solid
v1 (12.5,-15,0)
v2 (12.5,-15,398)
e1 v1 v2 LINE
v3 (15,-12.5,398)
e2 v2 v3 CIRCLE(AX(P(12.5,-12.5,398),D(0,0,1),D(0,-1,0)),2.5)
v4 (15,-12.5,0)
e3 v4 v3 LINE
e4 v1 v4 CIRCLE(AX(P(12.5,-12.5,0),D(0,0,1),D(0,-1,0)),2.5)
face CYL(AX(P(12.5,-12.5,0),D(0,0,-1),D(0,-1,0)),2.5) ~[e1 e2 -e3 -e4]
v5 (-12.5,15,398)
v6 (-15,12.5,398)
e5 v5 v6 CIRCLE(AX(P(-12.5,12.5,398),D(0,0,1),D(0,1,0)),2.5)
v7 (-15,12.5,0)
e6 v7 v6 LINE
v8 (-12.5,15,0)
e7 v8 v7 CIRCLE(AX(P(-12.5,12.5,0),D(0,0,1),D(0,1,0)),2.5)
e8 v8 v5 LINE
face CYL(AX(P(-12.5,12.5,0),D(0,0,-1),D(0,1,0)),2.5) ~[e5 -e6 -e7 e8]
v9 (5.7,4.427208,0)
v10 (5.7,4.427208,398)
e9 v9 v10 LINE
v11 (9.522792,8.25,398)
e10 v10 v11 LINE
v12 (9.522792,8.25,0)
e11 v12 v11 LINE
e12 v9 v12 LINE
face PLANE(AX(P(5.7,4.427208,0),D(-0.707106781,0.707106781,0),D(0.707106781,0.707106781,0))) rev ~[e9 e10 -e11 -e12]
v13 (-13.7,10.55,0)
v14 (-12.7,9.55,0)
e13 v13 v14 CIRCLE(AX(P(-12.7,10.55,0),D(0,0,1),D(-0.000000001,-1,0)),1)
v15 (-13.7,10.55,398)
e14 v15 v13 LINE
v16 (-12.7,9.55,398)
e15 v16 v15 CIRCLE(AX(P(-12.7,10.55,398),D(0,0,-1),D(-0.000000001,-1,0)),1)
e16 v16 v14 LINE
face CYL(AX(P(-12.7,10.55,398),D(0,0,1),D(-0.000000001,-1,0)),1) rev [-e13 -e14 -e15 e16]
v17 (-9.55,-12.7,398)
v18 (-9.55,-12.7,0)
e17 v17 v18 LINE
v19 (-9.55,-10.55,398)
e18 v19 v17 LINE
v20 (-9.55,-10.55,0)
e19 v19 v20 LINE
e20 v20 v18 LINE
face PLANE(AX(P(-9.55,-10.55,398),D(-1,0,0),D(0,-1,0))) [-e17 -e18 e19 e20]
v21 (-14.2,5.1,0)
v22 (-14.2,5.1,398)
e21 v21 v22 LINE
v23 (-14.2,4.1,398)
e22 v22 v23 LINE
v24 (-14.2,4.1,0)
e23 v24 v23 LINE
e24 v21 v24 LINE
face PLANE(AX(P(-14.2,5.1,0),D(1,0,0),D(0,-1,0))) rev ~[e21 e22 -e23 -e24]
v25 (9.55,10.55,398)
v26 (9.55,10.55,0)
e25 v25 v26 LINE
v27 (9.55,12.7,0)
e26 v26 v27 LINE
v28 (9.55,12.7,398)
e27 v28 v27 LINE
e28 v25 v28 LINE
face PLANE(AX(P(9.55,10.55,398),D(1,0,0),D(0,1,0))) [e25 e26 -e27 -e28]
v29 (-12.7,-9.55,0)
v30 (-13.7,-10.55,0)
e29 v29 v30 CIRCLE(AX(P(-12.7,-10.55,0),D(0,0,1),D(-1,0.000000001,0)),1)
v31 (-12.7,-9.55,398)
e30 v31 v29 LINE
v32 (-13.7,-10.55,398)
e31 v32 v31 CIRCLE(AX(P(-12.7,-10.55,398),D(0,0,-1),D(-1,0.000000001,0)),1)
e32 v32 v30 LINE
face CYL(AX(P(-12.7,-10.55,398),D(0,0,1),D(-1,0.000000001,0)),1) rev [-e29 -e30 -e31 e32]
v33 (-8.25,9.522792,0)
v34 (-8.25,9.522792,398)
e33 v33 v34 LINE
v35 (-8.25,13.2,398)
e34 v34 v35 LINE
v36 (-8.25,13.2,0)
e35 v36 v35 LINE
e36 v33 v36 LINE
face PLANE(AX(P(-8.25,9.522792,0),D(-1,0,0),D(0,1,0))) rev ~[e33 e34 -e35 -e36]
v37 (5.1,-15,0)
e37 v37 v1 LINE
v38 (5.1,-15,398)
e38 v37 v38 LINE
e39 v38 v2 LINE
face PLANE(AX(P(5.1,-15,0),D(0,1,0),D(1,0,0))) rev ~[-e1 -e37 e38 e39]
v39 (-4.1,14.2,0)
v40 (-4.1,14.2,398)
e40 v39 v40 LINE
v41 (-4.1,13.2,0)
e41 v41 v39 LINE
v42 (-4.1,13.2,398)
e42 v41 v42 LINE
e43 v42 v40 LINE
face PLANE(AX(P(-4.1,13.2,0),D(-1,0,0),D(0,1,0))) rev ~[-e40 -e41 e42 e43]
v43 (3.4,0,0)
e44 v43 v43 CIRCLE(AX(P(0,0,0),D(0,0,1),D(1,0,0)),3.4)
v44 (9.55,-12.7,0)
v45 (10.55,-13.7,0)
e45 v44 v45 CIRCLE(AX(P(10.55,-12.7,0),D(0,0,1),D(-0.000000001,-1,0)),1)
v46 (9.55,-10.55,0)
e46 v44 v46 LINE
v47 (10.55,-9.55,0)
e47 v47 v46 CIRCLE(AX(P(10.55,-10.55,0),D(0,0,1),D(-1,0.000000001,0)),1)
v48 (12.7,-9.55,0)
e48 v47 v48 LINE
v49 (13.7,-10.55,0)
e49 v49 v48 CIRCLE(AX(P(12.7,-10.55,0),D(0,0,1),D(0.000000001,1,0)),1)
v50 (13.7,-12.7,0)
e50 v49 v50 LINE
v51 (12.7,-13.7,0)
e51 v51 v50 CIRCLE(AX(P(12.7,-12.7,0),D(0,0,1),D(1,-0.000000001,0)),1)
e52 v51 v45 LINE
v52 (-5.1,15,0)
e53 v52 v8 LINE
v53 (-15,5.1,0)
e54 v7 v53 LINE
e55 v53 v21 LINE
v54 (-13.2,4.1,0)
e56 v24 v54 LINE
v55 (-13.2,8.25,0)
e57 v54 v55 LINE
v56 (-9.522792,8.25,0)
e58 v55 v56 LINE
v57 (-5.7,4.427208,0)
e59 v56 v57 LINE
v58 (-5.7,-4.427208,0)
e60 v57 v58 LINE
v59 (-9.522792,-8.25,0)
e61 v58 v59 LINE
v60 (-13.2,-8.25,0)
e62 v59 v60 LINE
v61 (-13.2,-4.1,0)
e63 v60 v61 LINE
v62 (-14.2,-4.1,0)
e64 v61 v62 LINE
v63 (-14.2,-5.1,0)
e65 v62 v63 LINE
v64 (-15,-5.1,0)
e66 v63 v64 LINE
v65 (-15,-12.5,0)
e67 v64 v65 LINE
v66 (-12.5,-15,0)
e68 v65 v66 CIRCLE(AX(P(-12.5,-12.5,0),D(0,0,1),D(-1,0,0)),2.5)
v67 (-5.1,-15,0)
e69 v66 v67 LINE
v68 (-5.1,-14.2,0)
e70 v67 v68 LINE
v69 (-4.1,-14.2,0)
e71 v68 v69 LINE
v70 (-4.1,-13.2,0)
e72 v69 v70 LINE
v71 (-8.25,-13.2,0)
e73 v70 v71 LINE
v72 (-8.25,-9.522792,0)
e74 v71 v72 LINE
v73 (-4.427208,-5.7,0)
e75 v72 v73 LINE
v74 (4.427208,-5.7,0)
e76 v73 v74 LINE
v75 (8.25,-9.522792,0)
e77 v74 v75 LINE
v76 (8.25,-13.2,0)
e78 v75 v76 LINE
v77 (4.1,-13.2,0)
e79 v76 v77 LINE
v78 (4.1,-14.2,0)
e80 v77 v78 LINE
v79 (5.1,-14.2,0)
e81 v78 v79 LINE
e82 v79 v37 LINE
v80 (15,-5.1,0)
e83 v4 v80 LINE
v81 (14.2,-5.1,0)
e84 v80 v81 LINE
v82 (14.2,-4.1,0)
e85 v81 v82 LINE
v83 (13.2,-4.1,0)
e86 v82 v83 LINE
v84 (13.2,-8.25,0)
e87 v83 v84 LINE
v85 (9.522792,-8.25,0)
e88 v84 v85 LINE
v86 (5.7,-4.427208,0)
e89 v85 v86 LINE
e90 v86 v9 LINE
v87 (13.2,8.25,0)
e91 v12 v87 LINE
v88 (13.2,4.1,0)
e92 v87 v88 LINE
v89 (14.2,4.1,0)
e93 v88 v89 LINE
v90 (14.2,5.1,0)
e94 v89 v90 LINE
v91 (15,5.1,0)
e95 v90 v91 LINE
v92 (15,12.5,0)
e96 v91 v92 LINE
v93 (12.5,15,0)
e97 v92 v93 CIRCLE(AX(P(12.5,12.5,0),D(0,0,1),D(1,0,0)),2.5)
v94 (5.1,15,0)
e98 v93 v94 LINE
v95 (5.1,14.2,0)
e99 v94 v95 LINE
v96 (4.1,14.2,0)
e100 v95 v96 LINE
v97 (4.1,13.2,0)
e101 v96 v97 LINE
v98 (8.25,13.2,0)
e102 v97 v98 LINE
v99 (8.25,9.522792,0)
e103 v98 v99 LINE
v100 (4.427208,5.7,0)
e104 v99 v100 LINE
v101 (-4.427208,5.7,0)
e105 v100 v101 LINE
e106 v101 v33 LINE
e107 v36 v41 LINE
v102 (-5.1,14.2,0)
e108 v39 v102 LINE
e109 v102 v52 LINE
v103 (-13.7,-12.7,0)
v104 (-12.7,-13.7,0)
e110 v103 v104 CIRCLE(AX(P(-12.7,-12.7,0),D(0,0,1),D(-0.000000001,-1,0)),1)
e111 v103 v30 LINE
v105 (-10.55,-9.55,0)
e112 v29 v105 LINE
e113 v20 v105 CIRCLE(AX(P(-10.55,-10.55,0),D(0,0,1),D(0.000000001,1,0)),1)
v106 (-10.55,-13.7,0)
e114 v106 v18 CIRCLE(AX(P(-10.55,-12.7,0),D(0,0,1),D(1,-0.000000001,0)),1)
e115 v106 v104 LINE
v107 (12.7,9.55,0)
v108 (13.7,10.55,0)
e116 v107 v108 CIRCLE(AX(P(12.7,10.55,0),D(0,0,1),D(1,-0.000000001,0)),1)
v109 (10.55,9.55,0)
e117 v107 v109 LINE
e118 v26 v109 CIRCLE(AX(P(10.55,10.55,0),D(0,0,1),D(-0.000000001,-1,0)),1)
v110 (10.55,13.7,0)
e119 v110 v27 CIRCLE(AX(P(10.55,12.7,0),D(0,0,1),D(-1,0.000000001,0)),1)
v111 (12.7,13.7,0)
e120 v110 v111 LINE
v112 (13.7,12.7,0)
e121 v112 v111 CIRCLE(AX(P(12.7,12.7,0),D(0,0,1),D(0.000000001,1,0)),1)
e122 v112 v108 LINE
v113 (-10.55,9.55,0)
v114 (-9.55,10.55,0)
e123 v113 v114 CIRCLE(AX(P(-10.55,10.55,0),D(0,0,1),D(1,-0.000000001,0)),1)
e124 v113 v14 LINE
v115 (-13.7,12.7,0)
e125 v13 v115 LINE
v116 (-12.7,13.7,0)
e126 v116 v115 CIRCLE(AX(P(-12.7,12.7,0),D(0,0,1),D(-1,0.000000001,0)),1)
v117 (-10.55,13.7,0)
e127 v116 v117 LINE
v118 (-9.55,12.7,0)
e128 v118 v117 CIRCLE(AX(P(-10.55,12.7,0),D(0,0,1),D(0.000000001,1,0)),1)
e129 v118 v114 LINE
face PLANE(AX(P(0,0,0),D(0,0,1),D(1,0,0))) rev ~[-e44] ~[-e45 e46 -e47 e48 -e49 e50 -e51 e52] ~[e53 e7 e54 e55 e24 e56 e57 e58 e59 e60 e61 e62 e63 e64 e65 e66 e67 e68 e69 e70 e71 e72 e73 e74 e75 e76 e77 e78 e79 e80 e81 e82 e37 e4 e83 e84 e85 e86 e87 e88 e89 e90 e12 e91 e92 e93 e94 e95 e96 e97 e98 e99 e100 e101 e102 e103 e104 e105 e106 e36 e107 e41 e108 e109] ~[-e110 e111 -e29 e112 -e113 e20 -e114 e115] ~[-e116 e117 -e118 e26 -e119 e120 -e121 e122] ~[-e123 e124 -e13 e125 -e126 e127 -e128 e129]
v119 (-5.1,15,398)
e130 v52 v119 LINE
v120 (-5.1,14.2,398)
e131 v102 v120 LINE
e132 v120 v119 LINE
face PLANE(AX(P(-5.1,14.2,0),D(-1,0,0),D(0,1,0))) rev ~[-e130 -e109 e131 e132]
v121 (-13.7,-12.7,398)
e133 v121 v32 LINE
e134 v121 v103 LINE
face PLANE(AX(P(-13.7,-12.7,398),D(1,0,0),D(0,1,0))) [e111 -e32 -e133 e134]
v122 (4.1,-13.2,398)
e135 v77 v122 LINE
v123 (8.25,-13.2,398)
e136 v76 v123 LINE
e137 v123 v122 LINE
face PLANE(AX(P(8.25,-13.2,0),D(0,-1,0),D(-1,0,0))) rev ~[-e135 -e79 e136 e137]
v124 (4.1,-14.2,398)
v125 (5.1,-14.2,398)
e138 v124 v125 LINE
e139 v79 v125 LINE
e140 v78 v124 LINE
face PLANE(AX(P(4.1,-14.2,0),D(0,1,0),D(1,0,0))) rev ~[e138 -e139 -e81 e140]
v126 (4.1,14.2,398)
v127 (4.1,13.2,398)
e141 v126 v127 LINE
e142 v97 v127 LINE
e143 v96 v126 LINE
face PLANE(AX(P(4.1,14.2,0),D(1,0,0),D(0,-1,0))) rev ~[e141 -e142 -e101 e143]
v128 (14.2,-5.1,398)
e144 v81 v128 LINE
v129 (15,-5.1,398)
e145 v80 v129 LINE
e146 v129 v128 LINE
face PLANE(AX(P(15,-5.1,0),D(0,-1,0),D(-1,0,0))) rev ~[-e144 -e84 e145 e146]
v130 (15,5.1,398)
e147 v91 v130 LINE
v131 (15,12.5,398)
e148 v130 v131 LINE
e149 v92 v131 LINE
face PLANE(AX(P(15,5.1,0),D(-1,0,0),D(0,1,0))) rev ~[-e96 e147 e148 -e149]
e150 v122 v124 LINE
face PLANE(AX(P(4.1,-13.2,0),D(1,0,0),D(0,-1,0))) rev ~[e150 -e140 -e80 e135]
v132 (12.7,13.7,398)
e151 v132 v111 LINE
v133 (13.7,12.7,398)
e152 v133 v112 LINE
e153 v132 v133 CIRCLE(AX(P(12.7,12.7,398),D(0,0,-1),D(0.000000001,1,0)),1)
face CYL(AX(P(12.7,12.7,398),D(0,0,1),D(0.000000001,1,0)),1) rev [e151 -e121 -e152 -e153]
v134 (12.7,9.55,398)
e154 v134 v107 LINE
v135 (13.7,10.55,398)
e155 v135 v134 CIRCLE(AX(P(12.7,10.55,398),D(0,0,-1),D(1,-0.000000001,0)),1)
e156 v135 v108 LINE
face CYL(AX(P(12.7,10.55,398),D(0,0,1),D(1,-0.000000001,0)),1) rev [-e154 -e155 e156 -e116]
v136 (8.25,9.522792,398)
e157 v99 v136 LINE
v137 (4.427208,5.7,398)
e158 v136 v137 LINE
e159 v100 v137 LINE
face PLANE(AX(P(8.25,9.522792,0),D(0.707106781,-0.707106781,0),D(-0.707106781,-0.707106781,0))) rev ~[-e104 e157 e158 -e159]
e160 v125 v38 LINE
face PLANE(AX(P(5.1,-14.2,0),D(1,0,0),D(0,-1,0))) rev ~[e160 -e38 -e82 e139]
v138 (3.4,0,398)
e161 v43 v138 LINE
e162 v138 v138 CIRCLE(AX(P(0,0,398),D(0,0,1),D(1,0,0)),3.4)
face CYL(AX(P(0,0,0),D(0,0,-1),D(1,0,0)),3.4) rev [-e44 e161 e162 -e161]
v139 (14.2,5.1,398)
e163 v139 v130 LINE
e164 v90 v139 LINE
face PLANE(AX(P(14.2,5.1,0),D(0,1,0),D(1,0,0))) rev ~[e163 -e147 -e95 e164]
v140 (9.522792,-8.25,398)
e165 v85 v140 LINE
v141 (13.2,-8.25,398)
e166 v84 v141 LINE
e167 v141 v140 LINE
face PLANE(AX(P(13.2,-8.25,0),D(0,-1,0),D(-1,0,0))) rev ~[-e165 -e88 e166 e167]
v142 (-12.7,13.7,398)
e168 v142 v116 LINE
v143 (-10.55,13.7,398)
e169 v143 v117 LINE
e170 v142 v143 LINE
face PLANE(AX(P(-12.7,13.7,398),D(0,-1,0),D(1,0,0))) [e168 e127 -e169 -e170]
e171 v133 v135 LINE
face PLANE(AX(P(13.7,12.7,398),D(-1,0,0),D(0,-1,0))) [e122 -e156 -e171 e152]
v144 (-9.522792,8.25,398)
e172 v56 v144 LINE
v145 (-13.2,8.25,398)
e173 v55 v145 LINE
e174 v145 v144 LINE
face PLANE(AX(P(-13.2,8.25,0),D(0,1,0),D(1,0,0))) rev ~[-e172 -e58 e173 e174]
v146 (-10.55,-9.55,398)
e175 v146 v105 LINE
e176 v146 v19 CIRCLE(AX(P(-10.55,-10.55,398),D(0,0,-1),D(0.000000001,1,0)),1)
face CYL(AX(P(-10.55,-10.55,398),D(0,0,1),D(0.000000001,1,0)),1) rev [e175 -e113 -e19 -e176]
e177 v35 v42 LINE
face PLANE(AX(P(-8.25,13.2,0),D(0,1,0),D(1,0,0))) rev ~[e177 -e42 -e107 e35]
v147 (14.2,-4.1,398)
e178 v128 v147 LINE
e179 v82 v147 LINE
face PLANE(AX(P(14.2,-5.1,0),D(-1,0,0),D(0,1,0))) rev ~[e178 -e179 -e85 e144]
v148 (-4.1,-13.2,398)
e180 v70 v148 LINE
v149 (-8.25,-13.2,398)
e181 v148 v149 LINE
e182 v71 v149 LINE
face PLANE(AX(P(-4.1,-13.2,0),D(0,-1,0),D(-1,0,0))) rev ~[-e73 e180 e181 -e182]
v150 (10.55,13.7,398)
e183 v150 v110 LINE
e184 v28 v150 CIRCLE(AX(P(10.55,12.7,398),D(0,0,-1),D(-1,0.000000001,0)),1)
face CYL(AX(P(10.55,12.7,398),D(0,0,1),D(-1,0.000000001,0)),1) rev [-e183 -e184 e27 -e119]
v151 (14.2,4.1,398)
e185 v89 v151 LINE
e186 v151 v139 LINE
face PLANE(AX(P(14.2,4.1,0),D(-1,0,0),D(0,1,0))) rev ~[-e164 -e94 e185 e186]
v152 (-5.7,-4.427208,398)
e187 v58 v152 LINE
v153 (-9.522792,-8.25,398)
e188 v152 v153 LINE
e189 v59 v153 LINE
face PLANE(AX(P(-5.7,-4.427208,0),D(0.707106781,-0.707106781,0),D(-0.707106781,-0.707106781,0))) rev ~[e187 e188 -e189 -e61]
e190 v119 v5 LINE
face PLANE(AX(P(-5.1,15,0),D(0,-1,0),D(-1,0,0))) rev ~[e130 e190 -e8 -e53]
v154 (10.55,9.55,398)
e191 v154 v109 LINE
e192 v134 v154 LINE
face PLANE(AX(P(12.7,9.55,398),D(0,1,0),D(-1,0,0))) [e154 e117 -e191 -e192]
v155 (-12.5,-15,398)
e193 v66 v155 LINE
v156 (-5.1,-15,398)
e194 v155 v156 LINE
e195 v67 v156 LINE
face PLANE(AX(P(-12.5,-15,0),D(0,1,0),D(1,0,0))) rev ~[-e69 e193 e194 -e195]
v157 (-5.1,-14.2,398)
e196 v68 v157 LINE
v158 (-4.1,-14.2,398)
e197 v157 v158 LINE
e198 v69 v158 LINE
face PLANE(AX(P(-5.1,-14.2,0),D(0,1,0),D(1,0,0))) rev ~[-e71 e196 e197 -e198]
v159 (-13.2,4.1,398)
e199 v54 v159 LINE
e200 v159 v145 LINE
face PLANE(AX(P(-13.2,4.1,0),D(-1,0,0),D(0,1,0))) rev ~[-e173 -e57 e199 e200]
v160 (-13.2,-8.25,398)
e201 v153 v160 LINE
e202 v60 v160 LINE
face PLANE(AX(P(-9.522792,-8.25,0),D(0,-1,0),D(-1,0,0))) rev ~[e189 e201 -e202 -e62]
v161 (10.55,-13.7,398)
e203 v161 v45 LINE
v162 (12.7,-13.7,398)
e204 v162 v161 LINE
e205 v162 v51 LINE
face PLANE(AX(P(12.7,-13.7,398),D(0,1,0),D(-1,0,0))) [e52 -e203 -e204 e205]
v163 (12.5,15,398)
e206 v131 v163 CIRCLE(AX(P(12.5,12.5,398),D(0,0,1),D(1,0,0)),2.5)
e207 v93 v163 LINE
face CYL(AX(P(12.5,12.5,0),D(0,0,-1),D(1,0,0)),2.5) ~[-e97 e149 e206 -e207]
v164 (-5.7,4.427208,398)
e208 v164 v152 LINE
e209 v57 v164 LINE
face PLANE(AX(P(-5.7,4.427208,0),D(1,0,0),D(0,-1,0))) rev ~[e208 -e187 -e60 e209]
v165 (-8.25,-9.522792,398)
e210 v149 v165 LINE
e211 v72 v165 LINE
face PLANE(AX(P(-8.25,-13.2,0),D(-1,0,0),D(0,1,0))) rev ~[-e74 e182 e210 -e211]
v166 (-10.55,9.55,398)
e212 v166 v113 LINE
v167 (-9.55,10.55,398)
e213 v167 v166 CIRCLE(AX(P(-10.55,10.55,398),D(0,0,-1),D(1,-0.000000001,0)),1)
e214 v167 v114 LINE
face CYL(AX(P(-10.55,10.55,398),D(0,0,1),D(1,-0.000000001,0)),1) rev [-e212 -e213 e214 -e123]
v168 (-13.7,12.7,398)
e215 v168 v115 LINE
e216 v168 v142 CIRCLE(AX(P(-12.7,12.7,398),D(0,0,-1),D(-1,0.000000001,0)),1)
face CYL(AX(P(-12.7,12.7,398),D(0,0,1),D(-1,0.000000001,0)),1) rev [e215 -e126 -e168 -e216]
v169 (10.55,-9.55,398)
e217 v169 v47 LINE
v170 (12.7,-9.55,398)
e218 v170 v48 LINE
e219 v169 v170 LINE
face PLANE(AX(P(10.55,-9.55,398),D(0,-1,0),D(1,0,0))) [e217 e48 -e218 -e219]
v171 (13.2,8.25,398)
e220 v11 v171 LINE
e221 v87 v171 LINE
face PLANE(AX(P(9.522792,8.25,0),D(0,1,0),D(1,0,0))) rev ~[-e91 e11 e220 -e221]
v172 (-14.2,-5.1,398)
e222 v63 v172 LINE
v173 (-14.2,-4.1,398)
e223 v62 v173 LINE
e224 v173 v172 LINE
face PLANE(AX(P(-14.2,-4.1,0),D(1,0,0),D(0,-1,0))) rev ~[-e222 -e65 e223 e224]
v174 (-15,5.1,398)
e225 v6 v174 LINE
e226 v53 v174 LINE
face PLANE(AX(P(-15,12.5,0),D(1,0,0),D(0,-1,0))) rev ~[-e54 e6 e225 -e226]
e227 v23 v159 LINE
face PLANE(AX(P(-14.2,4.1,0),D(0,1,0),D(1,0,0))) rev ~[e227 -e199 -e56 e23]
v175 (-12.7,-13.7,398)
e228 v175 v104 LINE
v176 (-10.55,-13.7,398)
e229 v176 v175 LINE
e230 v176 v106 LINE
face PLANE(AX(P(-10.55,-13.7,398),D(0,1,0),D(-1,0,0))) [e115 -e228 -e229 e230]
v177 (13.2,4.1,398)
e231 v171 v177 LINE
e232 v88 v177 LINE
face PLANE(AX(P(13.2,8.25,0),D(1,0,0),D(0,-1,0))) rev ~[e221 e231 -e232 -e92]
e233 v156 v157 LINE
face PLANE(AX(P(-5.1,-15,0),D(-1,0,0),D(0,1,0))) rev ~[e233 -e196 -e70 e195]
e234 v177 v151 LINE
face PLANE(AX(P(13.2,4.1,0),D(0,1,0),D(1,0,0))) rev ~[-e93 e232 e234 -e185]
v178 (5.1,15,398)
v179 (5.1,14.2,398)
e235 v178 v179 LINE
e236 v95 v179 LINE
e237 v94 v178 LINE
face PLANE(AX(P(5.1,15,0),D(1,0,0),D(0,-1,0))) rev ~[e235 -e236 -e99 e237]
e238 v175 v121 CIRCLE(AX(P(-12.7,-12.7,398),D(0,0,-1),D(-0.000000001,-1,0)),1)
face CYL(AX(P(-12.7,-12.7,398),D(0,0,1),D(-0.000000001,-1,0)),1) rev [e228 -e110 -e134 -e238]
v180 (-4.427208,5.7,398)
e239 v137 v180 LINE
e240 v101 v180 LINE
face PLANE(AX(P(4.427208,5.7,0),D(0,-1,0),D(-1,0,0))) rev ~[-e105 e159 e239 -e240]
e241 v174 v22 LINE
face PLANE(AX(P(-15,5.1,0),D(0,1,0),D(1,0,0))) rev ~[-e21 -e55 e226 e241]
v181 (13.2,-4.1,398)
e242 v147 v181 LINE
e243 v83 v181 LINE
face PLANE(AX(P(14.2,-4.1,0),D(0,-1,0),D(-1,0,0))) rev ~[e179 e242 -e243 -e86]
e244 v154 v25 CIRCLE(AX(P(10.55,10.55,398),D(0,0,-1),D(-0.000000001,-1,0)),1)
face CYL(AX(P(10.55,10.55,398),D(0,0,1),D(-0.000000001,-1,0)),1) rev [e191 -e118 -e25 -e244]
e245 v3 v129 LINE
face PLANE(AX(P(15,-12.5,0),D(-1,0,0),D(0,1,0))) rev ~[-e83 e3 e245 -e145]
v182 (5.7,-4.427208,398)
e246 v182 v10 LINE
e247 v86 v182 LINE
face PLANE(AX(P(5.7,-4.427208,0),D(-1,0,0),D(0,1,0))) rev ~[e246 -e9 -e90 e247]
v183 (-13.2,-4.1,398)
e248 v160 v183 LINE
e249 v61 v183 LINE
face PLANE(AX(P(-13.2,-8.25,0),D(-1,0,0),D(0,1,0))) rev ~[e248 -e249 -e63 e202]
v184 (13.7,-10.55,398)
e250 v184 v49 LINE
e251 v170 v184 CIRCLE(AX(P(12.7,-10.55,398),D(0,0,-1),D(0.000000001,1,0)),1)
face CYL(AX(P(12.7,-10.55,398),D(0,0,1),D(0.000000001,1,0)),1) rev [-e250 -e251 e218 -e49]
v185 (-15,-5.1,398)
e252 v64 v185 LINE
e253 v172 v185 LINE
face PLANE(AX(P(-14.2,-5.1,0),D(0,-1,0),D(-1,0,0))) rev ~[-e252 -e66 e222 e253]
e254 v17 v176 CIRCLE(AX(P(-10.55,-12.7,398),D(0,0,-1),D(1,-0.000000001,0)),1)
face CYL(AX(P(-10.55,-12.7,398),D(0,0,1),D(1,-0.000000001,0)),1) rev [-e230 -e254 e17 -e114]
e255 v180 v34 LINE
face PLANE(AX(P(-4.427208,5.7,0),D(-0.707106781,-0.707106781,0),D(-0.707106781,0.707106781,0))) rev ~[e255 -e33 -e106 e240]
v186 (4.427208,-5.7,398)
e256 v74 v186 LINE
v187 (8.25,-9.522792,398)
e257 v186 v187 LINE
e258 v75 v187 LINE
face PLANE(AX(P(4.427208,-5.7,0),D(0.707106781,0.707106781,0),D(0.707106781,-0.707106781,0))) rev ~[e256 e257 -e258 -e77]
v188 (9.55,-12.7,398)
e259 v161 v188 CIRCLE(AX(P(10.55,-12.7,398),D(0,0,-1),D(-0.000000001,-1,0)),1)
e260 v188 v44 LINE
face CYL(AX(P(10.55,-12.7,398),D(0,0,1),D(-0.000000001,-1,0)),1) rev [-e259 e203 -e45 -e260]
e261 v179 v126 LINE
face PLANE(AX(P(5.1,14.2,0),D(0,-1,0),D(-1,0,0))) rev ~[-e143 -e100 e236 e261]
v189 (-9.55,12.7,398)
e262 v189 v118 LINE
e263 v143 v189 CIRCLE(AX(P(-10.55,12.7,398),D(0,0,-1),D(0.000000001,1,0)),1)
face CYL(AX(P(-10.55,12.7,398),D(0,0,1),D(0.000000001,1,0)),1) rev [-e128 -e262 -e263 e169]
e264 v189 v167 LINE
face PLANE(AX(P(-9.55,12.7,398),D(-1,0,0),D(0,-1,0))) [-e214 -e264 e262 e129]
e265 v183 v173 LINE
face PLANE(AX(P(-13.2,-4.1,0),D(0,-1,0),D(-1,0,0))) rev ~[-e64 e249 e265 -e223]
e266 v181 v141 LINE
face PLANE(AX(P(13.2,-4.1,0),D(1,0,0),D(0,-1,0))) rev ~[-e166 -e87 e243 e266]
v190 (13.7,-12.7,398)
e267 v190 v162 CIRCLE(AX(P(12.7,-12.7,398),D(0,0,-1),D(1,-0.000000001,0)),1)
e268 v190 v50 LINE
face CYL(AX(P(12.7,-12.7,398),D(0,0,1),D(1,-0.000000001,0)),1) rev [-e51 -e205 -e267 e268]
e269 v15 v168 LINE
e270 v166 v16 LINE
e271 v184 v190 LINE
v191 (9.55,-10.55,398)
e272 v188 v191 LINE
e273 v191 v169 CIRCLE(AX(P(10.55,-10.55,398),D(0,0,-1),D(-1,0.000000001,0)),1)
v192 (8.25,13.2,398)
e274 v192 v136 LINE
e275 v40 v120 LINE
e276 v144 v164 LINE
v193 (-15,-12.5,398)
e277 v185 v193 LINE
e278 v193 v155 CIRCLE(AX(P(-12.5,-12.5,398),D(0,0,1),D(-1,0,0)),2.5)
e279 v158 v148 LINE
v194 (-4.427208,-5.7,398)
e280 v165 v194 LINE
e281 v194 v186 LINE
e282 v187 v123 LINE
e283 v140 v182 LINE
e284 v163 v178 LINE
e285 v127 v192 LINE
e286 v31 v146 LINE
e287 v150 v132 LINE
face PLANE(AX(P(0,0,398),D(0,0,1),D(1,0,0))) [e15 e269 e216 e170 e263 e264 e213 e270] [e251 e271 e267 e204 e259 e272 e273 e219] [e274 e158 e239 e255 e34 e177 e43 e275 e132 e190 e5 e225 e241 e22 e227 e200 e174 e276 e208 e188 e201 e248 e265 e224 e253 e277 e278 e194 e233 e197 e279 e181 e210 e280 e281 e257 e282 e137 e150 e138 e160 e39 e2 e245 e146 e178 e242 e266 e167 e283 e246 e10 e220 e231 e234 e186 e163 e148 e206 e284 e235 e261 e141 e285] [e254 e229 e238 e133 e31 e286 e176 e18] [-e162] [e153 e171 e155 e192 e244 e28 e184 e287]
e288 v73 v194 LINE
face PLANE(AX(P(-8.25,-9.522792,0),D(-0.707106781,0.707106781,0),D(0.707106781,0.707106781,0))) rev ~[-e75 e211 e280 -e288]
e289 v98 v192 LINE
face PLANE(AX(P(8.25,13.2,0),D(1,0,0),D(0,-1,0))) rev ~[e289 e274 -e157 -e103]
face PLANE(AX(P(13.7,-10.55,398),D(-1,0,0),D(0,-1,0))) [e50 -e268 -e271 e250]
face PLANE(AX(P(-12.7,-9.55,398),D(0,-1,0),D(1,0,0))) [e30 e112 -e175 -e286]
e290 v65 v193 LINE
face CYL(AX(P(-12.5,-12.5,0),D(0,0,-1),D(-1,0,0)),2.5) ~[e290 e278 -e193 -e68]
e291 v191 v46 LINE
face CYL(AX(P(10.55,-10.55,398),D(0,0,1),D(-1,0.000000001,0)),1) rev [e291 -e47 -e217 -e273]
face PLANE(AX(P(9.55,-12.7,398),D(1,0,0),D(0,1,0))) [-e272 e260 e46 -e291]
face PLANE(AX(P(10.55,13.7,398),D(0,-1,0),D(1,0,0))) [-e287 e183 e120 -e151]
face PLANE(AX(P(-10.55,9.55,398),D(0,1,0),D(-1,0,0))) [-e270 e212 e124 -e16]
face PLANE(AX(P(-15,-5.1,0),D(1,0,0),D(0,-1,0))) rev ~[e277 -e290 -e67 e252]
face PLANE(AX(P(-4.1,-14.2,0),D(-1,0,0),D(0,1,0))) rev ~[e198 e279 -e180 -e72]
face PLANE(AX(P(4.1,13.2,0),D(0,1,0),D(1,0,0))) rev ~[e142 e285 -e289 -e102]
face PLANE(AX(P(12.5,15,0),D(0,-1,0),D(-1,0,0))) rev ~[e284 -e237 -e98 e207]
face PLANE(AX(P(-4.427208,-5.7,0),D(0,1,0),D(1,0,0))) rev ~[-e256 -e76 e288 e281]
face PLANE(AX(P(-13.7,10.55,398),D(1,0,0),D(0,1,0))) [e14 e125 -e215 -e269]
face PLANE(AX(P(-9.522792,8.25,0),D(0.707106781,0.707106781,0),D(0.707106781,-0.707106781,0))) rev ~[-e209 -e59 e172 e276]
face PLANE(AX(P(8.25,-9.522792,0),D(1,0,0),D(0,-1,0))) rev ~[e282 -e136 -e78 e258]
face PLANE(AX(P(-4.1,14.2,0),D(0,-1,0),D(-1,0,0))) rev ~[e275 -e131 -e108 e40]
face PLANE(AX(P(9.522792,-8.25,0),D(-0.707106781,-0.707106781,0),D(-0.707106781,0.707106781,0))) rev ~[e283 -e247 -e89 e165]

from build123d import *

# Parameters (mm, degrees)
SKETCH1_R      = 3.4
EXTRUDE1_DEPTH = 398
EXTRUDE2_DEPTH = 399.564925702


with BuildPart() as part:
    # Sketch1 → Extrude1 (new body)
    with BuildSketch(Plane.XY):
        with BuildLine():
            Line((-5.1, 14.2), (-5.1, 15))
            Line((-5.1, 15), (-12.5, 15))
            ThreePointArc((-12.5, 15), (-14.267766953, 14.267766953), (-15, 12.5))
            Line((-15, 12.5), (-15, 5.1))
            Line((-15, 5.1), (-14.2, 5.1))
            Line((-14.2, 5.1), (-14.2, 4.1))
            Line((-14.2, 4.1), (-13.2, 4.1))
            Line((-13.2, 4.1), (-13.2, 8.25))
            Line((-13.2, 8.25), (-9.522792206, 8.25))
            Line((-9.522792206, 8.25), (-5.7, 4.427207794))
            Line((-5.7, 4.427207794), (-5.7, -4.427207794))
            Line((-5.7, -4.427207794), (-9.522792206, -8.25))
            Line((-9.522792206, -8.25), (-13.2, -8.25))
            Line((-13.2, -8.25), (-13.2, -4.1))
            Line((-13.2, -4.1), (-14.2, -4.1))
            Line((-14.2, -4.1), (-14.2, -5.1))
            Line((-14.2, -5.1), (-15, -5.1))
            Line((-15, -5.1), (-15, -12.5))
            ThreePointArc((-15, -12.5), (-14.267766953, -14.267766953), (-12.5, -15))
            Line((-12.5, -15), (-5.1, -15))
            Line((-5.1, -15), (-5.1, -14.2))
            Line((-5.1, -14.2), (-4.1, -14.2))
            Line((-4.1, -14.2), (-4.1, -13.2))
            Line((-4.1, -13.2), (-8.25, -13.2))
            Line((-8.25, -13.2), (-8.25, -9.522792206))
            Line((-8.25, -9.522792206), (-4.427207794, -5.7))
            Line((-4.427207794, -5.7), (4.427207794, -5.7))
            Line((4.427207794, -5.7), (8.25, -9.522792206))
            Line((8.25, -9.522792206), (8.25, -13.2))
            Line((8.25, -13.2), (4.1, -13.2))
            Line((4.1, -13.2), (4.1, -14.2))
            Line((4.1, -14.2), (5.1, -14.2))
            Line((5.1, -14.2), (5.1, -15))
            Line((5.1, -15), (12.5, -15))
            ThreePointArc((12.5, -15), (14.267766953, -14.267766953), (15, -12.5))
            Line((15, -12.5), (15, -5.1))
            Line((15, -5.1), (14.2, -5.1))
            Line((14.2, -5.1), (14.2, -4.1))
            Line((14.2, -4.1), (13.2, -4.1))
            Line((13.2, -4.1), (13.2, -8.25))
            Line((13.2, -8.25), (9.522792206, -8.25))
            Line((9.522792206, -8.25), (5.7, -4.427207794))
            Line((5.7, -4.427207794), (5.7, 4.427207794))
            Line((5.7, 4.427207794), (9.522792206, 8.25))
            Line((9.522792206, 8.25), (13.2, 8.25))
            Line((13.2, 8.25), (13.2, 4.1))
            Line((13.2, 4.1), (14.2, 4.1))
            Line((14.2, 4.1), (14.2, 5.1))
            Line((14.2, 5.1), (15, 5.1))
            Line((15, 5.1), (15, 12.5))
            ThreePointArc((15, 12.5), (14.267766953, 14.267766953), (12.5, 15))
            Line((12.5, 15), (5.1, 15))
            Line((5.1, 15), (5.1, 14.2))
            Line((5.1, 14.2), (4.1, 14.2))
            Line((4.1, 14.2), (4.1, 13.2))
            Line((4.1, 13.2), (8.25, 13.2))
            Line((8.25, 13.2), (8.25, 9.522792206))
            Line((8.25, 9.522792206), (4.427207794, 5.7))
            Line((4.427207794, 5.7), (-4.427207794, 5.7))
            Line((-4.427207794, 5.7), (-8.25, 9.522792206))
            Line((-8.25, 9.522792206), (-8.25, 13.2))
            Line((-8.25, 13.2), (-4.1, 13.2))
            Line((-4.1, 13.2), (-4.1, 14.2))
            Line((-4.1, 14.2), (-5.1, 14.2))
        make_face()
        Circle(SKETCH1_R, mode=Mode.SUBTRACT)
    extrude(amount=EXTRUDE1_DEPTH)

    # Sketch2 → Extrude2 (cut, through all)
    with BuildSketch(Plane.XY.offset(398)):
        with BuildLine():
            Line((13.7, 12.7), (13.7, 10.55))
            ThreePointArc((13.7, 10.55), (13.407106781, 9.842893219), (12.7, 9.55))
            Line((12.7, 9.55), (10.55, 9.55))
            ThreePointArc((10.55, 9.55), (9.842893219, 9.842893219), (9.55, 10.55))
            Line((9.55, 10.55), (9.55, 12.7))
            ThreePointArc((9.55, 12.7), (9.842893219, 13.407106781), (10.55, 13.7))
            Line((10.55, 13.7), (12.7, 13.7))
            ThreePointArc((12.7, 13.7), (13.407106781, 13.407106781), (13.7, 12.7))
        make_face()
        with BuildLine():
            Line((-12.7, 13.7), (-10.55, 13.7))
            ThreePointArc((-10.55, 13.7), (-9.842893219, 13.407106781), (-9.55, 12.7))
            Line((-9.55, 12.7), (-9.55, 10.55))
            ThreePointArc((-9.55, 10.55), (-9.842893219, 9.842893219), (-10.55, 9.55))
            Line((-10.55, 9.55), (-12.7, 9.55))
            ThreePointArc((-12.7, 9.55), (-13.407106781, 9.842893219), (-13.7, 10.55))
            Line((-13.7, 10.55), (-13.7, 12.7))
            ThreePointArc((-13.7, 12.7), (-13.407106781, 13.407106781), (-12.7, 13.7))
        make_face()
        with BuildLine():
            Line((12.7, -13.7), (10.55, -13.7))
            ThreePointArc((10.55, -13.7), (9.842893219, -13.407106781), (9.55, -12.7))
            Line((9.55, -12.7), (9.55, -10.55))
            ThreePointArc((9.55, -10.55), (9.842893219, -9.842893219), (10.55, -9.55))
            Line((10.55, -9.55), (12.7, -9.55))
            ThreePointArc((12.7, -9.55), (13.407106781, -9.842893219), (13.7, -10.55))
            Line((13.7, -10.55), (13.7, -12.7))
            ThreePointArc((13.7, -12.7), (13.407106781, -13.407106781), (12.7, -13.7))
        make_face()
        with BuildLine():
            Line((-13.7, -12.7), (-13.7, -10.55))
            ThreePointArc((-13.7, -10.55), (-13.407106781, -9.842893219), (-12.7, -9.55))
            Line((-12.7, -9.55), (-10.55, -9.55))
            ThreePointArc((-10.55, -9.55), (-9.842893219, -9.842893219), (-9.55, -10.55))
            Line((-9.55, -10.55), (-9.55, -12.7))
            ThreePointArc((-9.55, -12.7), (-9.842893219, -13.407106781), (-10.55, -13.7))
            Line((-10.55, -13.7), (-12.7, -13.7))
            ThreePointArc((-12.7, -13.7), (-13.407106781, -13.407106781), (-13.7, -12.7))
        make_face()
    extrude(amount=-EXTRUDE2_DEPTH, mode=Mode.SUBTRACT)


solid = part.part
